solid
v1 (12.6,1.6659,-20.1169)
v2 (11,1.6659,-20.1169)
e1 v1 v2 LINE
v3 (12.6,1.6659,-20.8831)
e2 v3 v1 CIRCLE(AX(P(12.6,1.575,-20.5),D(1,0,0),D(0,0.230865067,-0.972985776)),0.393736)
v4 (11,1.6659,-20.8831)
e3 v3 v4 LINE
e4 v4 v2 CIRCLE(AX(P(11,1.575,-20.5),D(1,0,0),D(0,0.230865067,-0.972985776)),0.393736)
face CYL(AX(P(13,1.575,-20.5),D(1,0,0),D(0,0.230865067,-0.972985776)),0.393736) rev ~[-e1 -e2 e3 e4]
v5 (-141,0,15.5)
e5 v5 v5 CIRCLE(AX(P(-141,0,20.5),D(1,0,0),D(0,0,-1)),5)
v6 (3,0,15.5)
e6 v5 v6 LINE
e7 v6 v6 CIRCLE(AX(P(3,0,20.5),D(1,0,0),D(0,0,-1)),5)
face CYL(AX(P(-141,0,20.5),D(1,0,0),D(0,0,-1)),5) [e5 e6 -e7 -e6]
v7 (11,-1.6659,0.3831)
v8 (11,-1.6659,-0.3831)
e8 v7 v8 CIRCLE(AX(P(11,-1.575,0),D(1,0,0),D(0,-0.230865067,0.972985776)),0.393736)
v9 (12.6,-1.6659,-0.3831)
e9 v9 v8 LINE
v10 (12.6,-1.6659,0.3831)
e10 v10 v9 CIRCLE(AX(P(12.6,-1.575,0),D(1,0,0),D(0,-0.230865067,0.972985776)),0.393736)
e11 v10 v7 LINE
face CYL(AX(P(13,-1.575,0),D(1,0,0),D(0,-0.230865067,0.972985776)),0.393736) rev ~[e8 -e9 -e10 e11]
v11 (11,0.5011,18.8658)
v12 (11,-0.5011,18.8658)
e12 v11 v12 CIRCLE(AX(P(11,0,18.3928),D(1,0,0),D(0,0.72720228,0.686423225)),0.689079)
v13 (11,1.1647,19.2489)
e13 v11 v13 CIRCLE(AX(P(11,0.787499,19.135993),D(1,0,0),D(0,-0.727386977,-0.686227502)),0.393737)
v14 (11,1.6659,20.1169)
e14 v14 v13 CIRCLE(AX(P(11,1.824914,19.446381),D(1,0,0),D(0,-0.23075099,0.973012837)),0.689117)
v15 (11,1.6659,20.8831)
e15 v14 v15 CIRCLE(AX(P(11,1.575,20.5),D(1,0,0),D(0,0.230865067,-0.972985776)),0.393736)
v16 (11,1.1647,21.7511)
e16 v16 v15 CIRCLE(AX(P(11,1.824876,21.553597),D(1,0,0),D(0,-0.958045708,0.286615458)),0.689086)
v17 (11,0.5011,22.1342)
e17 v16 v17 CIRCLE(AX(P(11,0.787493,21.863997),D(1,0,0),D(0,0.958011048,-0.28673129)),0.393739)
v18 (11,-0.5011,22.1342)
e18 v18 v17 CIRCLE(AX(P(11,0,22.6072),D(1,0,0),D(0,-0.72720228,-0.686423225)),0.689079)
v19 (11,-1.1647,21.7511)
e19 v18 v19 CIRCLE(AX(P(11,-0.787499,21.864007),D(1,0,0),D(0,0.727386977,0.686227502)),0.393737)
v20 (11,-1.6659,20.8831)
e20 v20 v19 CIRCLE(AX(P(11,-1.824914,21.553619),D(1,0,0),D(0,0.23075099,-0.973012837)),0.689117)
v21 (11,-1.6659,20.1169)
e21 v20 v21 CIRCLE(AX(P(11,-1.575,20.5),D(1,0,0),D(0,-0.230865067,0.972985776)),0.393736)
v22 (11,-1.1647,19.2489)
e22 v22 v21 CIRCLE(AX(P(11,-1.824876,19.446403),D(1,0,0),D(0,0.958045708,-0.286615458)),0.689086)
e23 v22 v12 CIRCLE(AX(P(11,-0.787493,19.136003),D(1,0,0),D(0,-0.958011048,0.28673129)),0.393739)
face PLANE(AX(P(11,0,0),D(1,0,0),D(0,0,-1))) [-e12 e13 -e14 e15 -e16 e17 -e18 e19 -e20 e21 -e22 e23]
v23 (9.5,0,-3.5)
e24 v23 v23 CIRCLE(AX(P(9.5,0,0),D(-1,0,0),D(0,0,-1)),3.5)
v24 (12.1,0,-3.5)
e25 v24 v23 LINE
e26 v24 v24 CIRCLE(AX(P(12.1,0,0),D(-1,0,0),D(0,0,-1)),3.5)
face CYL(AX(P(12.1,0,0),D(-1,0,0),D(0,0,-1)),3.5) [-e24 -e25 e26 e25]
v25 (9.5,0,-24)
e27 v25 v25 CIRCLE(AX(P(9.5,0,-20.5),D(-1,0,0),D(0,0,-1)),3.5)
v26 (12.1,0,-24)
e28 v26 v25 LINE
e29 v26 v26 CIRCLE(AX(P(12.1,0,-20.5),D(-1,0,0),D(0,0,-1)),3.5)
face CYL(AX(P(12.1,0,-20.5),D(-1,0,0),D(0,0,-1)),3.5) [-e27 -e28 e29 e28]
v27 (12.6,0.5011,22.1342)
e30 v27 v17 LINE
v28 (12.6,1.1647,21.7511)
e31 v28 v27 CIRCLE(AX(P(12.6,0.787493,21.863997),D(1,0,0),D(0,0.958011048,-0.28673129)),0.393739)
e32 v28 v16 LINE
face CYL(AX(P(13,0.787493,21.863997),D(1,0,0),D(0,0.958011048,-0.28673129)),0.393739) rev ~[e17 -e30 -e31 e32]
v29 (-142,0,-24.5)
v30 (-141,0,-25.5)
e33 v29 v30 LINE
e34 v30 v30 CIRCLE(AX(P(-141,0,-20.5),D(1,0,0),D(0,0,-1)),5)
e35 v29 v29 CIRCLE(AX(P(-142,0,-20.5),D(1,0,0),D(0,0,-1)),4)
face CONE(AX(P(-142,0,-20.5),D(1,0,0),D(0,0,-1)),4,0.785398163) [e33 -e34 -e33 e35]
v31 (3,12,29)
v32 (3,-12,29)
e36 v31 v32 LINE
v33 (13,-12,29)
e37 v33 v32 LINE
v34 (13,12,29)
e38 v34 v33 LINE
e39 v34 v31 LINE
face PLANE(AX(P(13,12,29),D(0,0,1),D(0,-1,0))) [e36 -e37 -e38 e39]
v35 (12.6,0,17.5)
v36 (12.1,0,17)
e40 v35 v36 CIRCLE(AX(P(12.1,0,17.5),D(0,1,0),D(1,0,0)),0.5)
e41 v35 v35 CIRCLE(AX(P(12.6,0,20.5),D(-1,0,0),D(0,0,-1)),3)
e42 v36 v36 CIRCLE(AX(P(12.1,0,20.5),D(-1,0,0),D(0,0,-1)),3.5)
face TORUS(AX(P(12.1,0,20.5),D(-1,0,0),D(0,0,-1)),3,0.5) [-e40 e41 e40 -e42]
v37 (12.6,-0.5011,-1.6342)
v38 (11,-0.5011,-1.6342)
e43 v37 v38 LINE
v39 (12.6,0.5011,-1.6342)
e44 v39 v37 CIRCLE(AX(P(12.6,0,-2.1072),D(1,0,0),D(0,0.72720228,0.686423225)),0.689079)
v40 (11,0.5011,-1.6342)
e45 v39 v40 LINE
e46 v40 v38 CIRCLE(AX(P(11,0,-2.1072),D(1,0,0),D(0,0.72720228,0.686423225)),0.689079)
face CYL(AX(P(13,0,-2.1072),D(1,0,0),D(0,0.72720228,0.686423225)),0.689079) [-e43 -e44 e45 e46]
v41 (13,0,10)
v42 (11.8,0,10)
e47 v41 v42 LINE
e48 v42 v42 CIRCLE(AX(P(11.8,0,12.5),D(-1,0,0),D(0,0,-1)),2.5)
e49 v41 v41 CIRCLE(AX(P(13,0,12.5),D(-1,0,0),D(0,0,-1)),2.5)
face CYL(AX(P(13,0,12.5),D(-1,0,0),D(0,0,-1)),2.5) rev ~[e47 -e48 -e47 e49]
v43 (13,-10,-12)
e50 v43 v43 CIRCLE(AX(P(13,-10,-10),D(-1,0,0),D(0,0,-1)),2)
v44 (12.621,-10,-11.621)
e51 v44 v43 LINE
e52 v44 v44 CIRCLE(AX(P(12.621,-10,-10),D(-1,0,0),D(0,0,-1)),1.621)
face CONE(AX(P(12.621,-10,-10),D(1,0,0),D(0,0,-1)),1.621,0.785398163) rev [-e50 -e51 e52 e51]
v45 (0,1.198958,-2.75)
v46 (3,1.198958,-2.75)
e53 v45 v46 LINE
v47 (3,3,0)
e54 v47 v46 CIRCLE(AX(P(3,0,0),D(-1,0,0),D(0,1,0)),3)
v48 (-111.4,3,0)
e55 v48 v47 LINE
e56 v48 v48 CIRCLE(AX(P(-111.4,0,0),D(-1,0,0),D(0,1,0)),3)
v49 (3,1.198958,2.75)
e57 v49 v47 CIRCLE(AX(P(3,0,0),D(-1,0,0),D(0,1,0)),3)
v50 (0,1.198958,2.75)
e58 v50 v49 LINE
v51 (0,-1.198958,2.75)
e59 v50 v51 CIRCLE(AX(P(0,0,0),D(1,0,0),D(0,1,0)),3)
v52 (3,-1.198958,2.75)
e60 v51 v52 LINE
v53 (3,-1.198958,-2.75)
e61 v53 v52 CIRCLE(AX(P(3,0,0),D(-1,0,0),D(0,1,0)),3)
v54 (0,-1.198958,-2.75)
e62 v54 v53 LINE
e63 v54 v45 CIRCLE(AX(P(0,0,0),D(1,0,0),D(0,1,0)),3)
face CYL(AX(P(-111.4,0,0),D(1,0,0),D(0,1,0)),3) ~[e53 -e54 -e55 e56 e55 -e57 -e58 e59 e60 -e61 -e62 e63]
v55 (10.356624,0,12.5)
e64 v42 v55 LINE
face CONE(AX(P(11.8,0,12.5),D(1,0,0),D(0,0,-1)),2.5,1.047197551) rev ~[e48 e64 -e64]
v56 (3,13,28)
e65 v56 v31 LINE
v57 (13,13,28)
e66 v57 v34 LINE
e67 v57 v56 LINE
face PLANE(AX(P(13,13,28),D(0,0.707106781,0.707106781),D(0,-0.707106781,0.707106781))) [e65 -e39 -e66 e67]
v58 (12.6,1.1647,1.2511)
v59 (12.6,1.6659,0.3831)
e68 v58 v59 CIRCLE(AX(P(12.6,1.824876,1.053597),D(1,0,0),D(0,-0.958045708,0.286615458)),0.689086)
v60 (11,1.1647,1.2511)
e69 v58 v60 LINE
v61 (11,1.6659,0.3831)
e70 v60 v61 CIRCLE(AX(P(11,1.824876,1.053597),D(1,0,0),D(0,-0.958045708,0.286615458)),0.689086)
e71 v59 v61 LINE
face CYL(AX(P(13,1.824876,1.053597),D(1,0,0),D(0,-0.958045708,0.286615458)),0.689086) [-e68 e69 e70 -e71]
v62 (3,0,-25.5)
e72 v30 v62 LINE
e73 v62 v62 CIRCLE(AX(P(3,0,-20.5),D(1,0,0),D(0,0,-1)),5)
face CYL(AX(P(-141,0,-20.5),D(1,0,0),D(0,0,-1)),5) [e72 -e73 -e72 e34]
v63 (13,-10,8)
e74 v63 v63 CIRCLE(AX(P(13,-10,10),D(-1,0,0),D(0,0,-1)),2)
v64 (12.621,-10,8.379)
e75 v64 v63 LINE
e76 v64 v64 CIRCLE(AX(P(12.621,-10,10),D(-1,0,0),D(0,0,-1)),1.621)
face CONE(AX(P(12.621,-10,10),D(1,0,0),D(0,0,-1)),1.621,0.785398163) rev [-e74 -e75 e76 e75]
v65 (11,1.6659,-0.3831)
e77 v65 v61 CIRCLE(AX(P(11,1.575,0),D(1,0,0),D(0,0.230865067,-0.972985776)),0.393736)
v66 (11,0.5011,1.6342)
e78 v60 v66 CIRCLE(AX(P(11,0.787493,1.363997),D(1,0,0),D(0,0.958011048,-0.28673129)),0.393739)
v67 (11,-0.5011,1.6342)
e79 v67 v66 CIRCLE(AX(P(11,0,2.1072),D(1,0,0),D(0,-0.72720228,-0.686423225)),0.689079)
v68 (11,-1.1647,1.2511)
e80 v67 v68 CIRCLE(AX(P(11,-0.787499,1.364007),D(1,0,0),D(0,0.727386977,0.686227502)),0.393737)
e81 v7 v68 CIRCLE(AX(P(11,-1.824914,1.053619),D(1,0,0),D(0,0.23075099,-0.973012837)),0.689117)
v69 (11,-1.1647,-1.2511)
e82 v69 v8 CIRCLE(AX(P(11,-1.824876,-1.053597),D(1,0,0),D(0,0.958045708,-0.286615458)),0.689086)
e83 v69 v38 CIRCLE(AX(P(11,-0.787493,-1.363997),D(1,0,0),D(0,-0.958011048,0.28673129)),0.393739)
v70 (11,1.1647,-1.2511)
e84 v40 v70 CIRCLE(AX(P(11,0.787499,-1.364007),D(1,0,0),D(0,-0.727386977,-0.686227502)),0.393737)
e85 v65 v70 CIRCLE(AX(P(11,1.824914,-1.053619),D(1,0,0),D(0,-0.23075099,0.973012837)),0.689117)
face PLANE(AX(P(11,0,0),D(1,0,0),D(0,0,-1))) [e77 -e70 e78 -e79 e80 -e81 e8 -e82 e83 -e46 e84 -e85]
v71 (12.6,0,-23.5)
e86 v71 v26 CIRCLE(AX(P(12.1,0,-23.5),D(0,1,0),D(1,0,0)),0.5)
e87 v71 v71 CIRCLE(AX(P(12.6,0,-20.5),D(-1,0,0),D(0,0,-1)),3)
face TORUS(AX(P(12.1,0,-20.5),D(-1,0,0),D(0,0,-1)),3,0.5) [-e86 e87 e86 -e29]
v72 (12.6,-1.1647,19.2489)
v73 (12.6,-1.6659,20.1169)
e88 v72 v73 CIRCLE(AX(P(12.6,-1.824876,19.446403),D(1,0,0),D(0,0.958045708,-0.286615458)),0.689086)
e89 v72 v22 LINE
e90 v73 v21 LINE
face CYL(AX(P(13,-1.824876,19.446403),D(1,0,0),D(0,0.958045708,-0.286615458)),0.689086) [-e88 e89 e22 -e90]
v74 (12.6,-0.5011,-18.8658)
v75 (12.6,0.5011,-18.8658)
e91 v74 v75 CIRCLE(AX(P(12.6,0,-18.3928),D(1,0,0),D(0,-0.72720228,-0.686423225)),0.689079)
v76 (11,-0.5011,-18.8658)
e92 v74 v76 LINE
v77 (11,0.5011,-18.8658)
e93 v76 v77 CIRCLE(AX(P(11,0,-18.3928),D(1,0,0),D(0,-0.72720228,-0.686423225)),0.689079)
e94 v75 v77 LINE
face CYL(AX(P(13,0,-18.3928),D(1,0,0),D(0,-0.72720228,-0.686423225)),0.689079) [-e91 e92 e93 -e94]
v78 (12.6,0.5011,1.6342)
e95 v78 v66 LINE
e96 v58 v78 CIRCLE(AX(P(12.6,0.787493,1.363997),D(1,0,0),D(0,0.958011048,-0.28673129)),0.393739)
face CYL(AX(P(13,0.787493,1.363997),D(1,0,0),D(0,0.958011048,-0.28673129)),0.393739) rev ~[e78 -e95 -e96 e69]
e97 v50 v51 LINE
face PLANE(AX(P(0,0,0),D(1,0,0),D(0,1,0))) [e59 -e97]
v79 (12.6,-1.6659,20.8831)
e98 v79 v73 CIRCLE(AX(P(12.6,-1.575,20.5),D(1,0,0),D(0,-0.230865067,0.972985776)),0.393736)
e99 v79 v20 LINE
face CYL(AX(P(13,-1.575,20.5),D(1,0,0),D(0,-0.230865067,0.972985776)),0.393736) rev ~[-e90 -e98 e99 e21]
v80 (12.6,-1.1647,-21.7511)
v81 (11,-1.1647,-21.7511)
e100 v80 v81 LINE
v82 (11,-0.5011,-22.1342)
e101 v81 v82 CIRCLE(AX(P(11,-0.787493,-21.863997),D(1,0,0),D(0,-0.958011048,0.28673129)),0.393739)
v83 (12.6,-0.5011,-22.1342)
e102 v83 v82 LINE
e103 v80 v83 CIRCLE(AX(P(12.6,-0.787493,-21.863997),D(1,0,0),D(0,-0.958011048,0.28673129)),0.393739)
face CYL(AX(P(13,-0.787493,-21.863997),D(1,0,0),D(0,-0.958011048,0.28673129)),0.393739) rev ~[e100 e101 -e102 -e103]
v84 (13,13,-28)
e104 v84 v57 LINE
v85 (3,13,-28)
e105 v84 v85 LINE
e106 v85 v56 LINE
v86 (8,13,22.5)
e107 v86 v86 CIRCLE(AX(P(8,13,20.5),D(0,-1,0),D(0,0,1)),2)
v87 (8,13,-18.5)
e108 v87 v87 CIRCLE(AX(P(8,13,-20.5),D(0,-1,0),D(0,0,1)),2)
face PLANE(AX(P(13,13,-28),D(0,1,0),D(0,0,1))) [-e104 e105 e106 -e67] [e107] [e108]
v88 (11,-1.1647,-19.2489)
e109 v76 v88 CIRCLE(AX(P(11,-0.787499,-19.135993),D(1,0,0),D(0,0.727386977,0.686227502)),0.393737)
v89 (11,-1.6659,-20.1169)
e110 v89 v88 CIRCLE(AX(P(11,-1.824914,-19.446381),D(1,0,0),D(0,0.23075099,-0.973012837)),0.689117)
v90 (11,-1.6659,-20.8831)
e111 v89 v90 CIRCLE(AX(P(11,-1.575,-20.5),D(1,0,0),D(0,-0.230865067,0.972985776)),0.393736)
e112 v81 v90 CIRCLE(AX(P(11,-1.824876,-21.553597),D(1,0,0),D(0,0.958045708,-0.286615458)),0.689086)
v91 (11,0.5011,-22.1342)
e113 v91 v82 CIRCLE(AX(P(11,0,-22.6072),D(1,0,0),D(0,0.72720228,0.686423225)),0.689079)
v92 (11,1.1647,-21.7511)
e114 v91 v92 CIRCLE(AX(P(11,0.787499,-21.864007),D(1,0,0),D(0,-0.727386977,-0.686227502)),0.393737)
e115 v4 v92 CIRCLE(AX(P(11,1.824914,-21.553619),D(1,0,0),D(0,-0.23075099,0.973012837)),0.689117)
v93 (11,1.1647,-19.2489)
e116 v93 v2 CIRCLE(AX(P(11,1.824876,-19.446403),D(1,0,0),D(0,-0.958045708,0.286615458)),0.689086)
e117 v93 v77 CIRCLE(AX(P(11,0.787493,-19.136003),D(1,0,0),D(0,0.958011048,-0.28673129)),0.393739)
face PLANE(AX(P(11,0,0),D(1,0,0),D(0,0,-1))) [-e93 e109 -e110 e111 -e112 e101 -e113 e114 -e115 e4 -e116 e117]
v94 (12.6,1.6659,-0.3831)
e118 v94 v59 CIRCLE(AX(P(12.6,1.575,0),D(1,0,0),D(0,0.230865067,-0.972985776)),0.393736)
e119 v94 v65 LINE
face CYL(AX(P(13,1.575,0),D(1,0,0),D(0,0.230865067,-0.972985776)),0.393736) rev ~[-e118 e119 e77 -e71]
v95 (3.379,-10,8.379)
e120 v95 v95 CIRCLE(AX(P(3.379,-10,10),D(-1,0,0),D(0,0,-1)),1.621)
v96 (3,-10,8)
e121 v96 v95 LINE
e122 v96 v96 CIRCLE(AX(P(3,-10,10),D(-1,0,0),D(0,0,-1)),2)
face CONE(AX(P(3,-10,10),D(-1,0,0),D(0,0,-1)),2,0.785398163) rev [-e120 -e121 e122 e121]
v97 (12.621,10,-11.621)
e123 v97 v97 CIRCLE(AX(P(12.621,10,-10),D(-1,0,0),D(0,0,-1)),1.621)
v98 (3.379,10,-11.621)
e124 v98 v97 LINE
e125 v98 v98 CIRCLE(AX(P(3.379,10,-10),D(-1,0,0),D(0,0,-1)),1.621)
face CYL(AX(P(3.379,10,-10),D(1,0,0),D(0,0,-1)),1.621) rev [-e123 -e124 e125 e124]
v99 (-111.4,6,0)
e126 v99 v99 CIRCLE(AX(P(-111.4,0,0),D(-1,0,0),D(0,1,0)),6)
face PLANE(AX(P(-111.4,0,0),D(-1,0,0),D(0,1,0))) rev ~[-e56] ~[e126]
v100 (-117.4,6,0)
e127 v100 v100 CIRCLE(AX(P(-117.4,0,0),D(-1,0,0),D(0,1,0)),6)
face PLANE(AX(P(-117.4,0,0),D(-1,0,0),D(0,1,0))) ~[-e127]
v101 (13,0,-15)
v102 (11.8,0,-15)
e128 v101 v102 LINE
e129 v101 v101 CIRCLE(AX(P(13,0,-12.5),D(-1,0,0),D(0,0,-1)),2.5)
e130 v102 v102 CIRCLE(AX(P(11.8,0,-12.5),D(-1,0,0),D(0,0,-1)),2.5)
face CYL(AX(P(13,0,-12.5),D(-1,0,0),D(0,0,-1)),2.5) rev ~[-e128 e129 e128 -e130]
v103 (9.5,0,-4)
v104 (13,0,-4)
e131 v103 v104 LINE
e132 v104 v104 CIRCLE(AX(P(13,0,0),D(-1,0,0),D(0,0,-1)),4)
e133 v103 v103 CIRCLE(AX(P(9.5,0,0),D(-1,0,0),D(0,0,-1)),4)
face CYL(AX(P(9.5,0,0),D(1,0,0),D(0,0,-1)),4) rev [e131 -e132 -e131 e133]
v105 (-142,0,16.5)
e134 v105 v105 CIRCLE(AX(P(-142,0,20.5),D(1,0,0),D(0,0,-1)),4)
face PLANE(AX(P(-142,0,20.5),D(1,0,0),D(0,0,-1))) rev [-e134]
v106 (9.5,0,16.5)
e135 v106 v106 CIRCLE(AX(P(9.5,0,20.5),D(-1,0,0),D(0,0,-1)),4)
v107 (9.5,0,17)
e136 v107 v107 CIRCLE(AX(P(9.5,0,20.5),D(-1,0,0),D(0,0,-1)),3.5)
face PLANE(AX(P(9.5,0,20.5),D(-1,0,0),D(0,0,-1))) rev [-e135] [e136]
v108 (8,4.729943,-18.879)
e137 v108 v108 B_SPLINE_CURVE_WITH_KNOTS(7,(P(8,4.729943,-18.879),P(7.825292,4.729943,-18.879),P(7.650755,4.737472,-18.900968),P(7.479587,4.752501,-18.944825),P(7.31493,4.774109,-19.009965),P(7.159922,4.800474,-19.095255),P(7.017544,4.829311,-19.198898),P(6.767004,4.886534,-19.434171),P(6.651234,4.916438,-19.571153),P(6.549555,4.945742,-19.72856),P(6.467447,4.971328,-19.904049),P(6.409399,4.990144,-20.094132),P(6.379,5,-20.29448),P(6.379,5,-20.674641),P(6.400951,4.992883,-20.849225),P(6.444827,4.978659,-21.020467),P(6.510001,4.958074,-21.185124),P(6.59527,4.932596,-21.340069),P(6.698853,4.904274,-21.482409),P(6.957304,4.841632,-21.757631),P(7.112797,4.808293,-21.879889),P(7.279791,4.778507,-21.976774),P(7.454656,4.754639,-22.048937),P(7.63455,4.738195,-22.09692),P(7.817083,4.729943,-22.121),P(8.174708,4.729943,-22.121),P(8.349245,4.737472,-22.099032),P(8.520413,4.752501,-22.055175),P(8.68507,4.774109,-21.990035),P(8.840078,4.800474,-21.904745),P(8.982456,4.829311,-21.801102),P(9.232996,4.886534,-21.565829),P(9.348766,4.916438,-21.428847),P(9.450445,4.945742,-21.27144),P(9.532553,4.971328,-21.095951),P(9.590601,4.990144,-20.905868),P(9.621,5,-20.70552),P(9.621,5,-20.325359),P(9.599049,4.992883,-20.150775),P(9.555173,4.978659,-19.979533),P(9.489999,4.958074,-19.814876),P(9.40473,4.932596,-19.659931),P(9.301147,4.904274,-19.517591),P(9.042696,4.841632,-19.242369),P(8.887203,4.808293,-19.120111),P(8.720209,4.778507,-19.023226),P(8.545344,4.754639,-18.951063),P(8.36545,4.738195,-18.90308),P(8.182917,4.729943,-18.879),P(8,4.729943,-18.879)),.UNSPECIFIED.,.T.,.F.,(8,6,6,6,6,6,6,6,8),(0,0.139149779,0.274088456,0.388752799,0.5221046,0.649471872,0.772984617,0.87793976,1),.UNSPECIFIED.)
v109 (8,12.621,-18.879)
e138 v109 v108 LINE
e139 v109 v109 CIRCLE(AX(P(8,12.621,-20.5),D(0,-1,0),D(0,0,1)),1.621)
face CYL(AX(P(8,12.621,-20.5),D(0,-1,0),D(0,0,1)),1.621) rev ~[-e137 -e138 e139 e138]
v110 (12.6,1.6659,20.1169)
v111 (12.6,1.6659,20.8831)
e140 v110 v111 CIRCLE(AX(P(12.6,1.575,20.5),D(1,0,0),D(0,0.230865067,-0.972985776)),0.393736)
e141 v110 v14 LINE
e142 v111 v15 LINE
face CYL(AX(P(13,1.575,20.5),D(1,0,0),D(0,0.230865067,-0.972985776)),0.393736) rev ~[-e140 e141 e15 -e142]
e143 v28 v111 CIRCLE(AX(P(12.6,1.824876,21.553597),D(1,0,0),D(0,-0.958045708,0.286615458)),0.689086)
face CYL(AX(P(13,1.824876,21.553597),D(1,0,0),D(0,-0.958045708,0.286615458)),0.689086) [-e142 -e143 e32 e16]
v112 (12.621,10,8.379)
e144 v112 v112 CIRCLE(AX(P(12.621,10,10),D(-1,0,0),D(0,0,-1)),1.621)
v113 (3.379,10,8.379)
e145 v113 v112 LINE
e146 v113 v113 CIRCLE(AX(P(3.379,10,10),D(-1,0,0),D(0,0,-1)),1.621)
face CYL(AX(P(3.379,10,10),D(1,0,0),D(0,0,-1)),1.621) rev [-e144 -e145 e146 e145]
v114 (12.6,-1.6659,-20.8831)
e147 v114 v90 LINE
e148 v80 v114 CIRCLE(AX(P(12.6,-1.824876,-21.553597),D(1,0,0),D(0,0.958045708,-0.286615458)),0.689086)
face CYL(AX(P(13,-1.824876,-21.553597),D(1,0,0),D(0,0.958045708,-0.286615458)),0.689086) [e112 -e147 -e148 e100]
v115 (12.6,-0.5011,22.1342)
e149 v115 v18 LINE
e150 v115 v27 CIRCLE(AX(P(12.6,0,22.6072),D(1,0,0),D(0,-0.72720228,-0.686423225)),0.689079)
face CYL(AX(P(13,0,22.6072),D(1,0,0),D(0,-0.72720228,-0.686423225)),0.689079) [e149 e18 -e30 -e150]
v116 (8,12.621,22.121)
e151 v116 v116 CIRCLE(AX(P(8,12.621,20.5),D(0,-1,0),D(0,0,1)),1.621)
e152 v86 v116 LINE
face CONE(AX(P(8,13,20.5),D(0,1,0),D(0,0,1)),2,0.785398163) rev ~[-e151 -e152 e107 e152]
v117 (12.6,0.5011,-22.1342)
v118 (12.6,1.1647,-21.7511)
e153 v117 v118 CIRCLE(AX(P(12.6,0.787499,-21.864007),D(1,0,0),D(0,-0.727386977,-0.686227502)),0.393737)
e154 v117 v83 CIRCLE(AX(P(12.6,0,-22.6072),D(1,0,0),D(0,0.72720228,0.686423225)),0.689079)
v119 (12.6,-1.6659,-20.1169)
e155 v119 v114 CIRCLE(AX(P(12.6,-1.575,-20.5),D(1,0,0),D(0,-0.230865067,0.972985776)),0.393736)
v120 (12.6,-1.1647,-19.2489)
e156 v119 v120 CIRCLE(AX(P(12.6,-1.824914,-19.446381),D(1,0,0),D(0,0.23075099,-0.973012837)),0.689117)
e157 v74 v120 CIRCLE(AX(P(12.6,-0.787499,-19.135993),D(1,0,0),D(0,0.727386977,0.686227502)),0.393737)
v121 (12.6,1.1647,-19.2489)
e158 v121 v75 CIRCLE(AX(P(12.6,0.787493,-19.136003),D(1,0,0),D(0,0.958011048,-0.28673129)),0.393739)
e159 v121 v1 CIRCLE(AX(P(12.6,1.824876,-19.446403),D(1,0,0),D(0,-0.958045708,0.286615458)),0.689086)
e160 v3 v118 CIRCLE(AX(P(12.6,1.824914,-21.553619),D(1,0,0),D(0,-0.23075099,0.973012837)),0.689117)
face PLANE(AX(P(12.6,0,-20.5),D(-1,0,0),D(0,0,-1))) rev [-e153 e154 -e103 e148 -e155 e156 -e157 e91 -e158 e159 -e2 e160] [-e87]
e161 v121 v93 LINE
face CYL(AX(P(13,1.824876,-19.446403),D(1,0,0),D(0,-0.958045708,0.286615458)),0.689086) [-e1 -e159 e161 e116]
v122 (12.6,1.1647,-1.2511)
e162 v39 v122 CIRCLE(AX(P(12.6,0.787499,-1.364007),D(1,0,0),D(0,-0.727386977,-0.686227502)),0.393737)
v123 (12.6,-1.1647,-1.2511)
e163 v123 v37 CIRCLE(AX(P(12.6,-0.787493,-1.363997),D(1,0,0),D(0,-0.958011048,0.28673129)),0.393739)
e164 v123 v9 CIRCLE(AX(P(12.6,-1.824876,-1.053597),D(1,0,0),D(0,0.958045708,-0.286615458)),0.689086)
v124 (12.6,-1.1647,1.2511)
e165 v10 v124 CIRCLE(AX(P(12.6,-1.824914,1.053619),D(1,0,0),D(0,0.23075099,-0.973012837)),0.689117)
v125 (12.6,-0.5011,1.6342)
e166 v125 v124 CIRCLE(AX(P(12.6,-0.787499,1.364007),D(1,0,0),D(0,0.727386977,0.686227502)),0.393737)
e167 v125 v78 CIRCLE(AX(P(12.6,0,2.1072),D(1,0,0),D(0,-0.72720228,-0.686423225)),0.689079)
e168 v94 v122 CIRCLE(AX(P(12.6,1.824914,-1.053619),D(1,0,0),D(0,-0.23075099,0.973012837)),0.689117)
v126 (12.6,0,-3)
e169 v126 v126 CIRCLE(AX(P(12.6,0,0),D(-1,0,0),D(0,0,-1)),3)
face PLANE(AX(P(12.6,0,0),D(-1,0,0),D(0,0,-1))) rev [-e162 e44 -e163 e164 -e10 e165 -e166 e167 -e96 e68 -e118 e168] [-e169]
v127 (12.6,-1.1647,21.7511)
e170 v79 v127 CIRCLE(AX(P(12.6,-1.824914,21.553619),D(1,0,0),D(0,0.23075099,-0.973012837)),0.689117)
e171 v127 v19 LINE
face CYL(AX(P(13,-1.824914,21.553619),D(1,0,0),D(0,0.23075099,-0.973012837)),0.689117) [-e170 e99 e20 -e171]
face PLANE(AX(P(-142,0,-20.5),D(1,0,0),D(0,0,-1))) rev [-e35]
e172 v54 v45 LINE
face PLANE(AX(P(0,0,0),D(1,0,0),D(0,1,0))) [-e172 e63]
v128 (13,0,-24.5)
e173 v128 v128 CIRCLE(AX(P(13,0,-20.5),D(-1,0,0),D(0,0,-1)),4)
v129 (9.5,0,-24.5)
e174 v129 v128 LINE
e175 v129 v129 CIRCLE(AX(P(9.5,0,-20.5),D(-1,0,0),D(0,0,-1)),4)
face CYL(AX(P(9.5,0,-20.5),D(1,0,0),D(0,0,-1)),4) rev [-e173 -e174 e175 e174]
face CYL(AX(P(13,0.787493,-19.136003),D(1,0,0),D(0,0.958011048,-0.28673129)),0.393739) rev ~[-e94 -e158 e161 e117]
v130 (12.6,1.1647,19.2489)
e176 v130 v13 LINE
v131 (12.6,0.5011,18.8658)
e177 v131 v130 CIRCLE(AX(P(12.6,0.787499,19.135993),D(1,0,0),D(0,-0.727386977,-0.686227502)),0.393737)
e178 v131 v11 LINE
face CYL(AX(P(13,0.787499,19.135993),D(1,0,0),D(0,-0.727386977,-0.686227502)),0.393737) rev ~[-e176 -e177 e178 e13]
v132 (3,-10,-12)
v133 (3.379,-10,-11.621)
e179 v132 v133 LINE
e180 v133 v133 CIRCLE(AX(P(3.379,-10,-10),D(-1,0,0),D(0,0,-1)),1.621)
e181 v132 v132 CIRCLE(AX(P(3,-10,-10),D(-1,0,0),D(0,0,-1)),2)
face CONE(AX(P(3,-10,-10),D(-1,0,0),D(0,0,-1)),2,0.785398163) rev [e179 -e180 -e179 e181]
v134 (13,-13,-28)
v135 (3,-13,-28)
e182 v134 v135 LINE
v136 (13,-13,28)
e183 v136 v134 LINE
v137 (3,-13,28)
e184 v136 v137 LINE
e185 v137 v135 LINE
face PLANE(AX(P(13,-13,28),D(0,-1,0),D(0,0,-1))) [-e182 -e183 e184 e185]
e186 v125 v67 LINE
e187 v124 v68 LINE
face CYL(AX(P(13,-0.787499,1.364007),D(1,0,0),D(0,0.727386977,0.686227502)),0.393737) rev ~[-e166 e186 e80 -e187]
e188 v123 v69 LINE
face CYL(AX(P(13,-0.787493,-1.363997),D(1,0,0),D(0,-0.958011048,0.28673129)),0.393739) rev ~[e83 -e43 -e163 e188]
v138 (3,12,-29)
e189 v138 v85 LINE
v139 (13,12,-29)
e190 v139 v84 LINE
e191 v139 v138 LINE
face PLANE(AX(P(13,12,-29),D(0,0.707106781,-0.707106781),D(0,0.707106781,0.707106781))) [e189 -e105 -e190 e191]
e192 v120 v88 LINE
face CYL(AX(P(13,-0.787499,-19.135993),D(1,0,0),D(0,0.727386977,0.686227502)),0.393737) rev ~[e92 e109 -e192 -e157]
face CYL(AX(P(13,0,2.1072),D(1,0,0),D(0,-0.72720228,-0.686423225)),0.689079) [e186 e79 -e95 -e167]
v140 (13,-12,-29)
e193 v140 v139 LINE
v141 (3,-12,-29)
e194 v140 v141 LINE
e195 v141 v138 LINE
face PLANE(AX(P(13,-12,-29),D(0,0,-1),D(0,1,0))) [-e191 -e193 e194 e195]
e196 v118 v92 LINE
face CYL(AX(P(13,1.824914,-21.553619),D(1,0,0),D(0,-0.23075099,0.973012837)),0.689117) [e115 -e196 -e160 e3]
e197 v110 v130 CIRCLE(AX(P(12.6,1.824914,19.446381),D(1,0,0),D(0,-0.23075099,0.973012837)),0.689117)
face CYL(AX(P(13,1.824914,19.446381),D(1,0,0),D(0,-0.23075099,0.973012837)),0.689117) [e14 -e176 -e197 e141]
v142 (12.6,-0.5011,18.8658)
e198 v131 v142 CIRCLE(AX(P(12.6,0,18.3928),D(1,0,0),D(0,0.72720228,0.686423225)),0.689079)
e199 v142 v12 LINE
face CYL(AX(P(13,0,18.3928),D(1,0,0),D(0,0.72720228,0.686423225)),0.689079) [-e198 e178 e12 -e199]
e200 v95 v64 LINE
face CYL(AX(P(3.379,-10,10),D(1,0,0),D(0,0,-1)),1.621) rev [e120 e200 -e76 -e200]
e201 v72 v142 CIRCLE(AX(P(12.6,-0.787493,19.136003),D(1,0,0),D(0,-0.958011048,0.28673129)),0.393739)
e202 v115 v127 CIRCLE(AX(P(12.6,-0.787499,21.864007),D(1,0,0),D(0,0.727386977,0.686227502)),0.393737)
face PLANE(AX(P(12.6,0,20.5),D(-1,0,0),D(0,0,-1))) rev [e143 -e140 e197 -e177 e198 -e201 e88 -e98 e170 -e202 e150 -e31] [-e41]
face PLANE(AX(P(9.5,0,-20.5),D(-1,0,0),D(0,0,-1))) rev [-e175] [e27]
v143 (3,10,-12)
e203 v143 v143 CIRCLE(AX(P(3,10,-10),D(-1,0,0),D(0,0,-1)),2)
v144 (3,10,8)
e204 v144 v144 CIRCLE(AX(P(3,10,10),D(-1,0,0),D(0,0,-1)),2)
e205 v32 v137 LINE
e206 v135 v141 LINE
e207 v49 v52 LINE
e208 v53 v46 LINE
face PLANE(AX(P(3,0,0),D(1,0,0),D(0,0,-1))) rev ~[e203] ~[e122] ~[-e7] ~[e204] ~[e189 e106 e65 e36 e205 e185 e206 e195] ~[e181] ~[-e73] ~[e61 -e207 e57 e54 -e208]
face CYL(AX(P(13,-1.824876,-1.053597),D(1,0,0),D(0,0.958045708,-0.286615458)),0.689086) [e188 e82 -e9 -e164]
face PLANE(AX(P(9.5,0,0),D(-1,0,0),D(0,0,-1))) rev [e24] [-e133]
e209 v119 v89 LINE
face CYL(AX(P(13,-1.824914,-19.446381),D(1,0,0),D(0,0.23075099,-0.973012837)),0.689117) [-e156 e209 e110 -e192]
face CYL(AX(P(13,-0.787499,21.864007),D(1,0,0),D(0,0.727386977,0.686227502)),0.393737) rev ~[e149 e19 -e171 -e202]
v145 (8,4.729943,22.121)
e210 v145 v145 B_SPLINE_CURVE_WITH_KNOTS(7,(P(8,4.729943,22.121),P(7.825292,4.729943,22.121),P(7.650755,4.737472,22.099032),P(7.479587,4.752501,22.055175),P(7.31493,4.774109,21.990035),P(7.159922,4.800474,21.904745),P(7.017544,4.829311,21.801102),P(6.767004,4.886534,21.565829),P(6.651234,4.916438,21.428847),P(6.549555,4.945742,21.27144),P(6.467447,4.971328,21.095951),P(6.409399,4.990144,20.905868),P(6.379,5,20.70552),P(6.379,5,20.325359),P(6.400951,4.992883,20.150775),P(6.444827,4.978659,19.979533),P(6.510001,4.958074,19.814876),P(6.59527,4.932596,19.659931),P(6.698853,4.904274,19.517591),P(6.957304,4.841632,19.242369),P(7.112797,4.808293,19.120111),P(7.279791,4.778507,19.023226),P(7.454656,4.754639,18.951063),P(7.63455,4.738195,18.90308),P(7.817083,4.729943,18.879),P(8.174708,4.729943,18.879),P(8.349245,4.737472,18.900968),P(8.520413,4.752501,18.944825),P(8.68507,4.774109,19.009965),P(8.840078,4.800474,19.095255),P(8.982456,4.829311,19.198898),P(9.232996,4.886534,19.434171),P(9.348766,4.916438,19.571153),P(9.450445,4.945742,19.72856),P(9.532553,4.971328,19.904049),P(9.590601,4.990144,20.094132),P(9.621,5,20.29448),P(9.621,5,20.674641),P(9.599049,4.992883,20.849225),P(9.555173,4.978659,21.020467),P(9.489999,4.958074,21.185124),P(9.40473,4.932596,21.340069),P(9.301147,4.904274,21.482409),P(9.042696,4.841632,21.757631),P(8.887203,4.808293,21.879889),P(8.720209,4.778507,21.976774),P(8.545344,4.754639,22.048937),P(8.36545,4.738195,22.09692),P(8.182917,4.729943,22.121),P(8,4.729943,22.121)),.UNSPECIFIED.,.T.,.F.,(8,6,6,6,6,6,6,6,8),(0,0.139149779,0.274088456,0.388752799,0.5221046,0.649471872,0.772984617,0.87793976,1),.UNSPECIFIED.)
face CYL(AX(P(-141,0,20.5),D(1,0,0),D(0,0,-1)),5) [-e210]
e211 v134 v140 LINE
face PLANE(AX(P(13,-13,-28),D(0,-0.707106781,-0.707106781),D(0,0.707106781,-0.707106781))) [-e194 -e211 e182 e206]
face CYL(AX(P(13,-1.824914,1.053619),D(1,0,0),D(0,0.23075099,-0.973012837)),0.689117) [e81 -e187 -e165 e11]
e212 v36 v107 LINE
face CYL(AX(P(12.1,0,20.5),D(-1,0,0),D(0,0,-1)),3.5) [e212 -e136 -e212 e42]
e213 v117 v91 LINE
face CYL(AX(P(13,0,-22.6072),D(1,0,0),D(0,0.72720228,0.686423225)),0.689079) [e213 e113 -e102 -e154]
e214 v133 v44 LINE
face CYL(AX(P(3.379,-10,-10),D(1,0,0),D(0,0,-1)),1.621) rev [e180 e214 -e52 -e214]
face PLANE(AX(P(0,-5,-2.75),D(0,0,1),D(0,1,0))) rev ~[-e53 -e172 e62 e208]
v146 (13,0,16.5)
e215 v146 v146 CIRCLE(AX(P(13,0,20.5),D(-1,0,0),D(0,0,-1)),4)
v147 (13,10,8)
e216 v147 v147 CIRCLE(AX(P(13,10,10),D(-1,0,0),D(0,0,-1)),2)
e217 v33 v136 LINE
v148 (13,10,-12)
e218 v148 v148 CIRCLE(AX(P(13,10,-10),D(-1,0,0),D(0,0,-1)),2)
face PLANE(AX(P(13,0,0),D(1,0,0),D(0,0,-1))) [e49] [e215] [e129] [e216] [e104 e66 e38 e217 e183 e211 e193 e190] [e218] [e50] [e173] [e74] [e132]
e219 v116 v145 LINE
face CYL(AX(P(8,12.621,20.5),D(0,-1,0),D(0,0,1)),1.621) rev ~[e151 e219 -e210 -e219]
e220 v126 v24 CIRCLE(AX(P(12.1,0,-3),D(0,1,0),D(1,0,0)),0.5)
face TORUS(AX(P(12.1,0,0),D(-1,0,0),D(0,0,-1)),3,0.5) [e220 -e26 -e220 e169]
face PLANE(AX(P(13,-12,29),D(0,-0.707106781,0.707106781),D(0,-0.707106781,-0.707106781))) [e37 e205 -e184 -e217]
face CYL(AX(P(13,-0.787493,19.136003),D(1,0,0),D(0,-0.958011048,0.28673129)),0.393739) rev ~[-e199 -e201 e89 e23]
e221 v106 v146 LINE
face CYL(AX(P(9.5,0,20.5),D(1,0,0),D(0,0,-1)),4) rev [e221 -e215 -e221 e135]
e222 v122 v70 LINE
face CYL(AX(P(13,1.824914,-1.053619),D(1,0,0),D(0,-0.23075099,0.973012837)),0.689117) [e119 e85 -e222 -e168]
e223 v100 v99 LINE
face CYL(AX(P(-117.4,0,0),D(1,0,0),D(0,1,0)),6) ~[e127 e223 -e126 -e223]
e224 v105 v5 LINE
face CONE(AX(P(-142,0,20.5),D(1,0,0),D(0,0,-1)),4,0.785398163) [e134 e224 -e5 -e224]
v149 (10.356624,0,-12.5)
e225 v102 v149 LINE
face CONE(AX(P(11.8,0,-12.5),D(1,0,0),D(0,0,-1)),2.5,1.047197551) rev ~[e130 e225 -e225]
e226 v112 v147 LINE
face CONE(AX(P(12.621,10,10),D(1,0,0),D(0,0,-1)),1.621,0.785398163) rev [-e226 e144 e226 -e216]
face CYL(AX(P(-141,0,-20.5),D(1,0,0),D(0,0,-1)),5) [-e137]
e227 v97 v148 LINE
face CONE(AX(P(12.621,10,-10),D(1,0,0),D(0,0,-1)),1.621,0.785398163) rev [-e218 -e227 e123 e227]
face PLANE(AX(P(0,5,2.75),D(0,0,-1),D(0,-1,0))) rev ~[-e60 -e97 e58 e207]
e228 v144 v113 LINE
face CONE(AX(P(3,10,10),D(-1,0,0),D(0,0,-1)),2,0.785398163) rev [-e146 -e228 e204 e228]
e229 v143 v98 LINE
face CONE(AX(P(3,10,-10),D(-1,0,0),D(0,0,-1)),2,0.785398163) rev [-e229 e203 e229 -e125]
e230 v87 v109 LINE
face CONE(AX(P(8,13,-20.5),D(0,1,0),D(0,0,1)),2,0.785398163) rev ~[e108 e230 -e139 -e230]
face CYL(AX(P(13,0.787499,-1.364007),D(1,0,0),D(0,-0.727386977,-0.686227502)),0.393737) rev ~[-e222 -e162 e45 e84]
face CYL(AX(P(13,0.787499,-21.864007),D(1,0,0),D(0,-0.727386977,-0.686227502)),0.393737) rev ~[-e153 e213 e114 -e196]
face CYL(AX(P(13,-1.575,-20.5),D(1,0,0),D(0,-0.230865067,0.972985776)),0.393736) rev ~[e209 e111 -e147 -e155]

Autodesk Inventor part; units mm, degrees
sketch "Sketch_2" plane through (13, 0, 0) normal (1, 0, 0) x (0, 0, -1)
  line L0 (-29, -12) -> (-28, -13)
  line L1 (-28, -13) -> (28, -13)
  line L2 (28, -13) -> (29, -12)
  line L3 (29, -12) -> (29, 12)
  line L4 (29, 12) -> (28, 13)
  line L5 (28, 13) -> (-28, 13)
  line L6 (-28, 13) -> (-29, 12)
  line L7 (-29, 12) -> (-29, -12)
sketch "Sketch_3" plane through (0, 0, 0) normal (0, 1, 0) x (1, 0, 0)
  line L0 (13, 20.5) -> (-142, 20.5)
  line L1 (-142, 20.5) -> (-142, 24.5)
  line L2 (-142, 24.5) -> (-141, 25.5)
  line L3 (-141, 25.5) -> (13, 25.5)
  line L4 (13, 25.5) -> (13, 20.5)
  line L5 (13, 20.5) -> (-142, 20.5)
sketch "Sketch_4" plane through (0, 0, 0) normal (0, 1, 0) x (1, 0, 0)
  line L0 (13, -20.5) -> (-142, -20.5)
  line L1 (-142, -20.5) -> (-142, -16.5)
  line L2 (-142, -16.5) -> (-141, -15.5)
  line L3 (-141, -15.5) -> (13, -15.5)
  line L4 (13, -15.5) -> (13, -20.5)
  line L5 (13, -20.5) -> (-142, -20.5)
extrude "Extrusion1" add sketch "Sketch_2" against normal blind 10
sketch "Sketch_8" plane through (0, 10, 0) normal (0, 1, 0) x (1, 0, 0)
  line L0 (13, 10) -> (3, 10)
  line L1 (3, 10) -> (3, 12)
  line L2 (3, 12) -> (3.379, 11.621)
  line L3 (3.379, 11.621) -> (12.621, 11.621)
  line L4 (12.621, 11.621) -> (13, 12)
  line L5 (13, 12) -> (13, 10)
  line L6 (13, 10) -> (3, 10)
revolve "Revolution1" cut sketch "Sketch_8" angle 360 about axis through (13, 10, -10) along (-1, 0, 0)
thread "Thread1" size "M4x0.7" class "6H" standard "ISO Metric profile" full length
sketch "Sketch_9" plane through (0, 10, 0) normal (0, 1, 0) x (1, 0, 0)
  line L0 (13, -10) -> (3, -10)
  line L1 (3, -10) -> (3, -8)
  line L2 (3, -8) -> (3.379, -8.379)
  line L3 (3.379, -8.379) -> (12.621, -8.379)
  line L4 (12.621, -8.379) -> (13, -8)
  line L5 (13, -8) -> (13, -10)
  line L6 (13, -10) -> (3, -10)
revolve "Revolution2" cut sketch "Sketch_9" angle 360 about axis through (13, 10, 10) along (-1, 0, 0)
thread "Thread2" size "M4x0.7" class "6H" standard "ISO Metric profile" full length
sketch "Sketch_12" plane through (0, -10, 0) normal (0, 1, 0) x (1, 0, 0)
  line L0 (13, 10) -> (3, 10)
  line L1 (3, 10) -> (3, 12)
  line L2 (3, 12) -> (3.379, 11.621)
  line L3 (3.379, 11.621) -> (12.621, 11.621)
  line L4 (12.621, 11.621) -> (13, 12)
  line L5 (13, 12) -> (13, 10)
  line L6 (13, 10) -> (3, 10)
revolve "Revolution3" cut sketch "Sketch_12" angle 360 about axis through (13, -10, -10) along (-1, 0, 0)
thread "Thread3" size "M4x0.7" class "6H" standard "ISO Metric profile" full length
sketch "Sketch_13" plane through (0, -10, 0) normal (0, 1, 0) x (1, 0, 0)
  line L0 (13, -10) -> (3, -10)
  line L1 (3, -10) -> (3, -8)
  line L2 (3, -8) -> (3.379, -8.379)
  line L3 (3.379, -8.379) -> (12.621, -8.379)
  line L4 (12.621, -8.379) -> (13, -8)
  line L5 (13, -8) -> (13, -10)
  line L6 (13, -10) -> (3, -10)
revolve "Revolution4" cut sketch "Sketch_13" angle 360 about axis through (13, -10, 10) along (-1, 0, 0)
thread "Thread4" size "M4x0.7" class "6H" standard "ISO Metric profile" full length
sketch "Skizze_3" plane through (0, 0, 0) normal (0, 0, 1) x (1, 0, 0)
  line L0 (3, 0) -> (-117.4, 0)
  line L1 (-117.4, 0) -> (-117.4, 6)
  line L2 (-117.4, 6) -> (-111.4, 6)
  line L3 (-111.4, 6) -> (-111.4, 3)
  line L4 (-111.4, 3) -> (3, 3)
  line L5 (3, 3) -> (3, 0)
  line L6 (3, 0) -> (-117.4, 0)
revolve "Revolution5" add sketch "Skizze_3" angle 360 about axis through (3, 0, 0) along (-1, 0, 0)
sketch "Sketch_17" plane through (0, 0, 0) normal (1, 0, 0) x (0, 1, 0)
  line L0 (-10, 7.5) -> (-10, -7.5)
  line L1 (-10, -7.5) -> (10, -7.5)
  line L2 (10, -7.5) -> (10, 7.5)
  line L3 (10, 7.5) -> (-10, 7.5)
  line L4 (-5, 2.75) -> (-5, -2.75)
  line L5 (-5, -2.75) -> (5, -2.75)
  line L6 (5, -2.75) -> (5, 2.75)
  line L7 (5, 2.75) -> (-5, 2.75)
extrude "Extrusion2" cut sketch "Sketch_17" along normal blind 3
sketch "Sketch10" plane through (13, 0, 0) normal (1, 0, 0) x (0, 0, -1)
  point P0 (12.5, 0)
hole "Hole1" at (13, 0, -12.5) direction (-1, 0, 0) diameter 5 depth 1.2 tip angle 120
sketch "Sketch11" plane through (13, 0, 0) normal (1, 0, 0) x (0, 0, -1)
  point P0 (-12.5, 0)
hole "Hole2" at (13, 0, 12.5) direction (-1, 0, 0) diameter 5 depth 1.2 tip angle 120
sketch "Sketch12" plane through (13, 13, 28) normal (0, 1, 0) x (1, 0, 0)
  point P0 (-5, 48.5)
hole "Hole3" at (8, 13, -20.5) direction (0, -1, 0) diameter 3.242 depth 13 countersink diameter 4 countersink angle 90 thread size "M4x0.7" class "6H" standard "ISO Metric profile"
sketch "Sketch13" plane through (13, 13, 28) normal (0, 1, 0) x (1, 0, 0)
  point P0 (-5, 7.5)
hole "Hole4" at (8, 13, 20.5) direction (0, -1, 0) diameter 3.242 depth 13 countersink diameter 4 countersink angle 90 thread size "M4x0.7" class "6H" standard "ISO Metric profile"
revolve "Revolution6" add sketch "Sketch_4" angle 360 about axis through (13, 0, 20.5) along (1, 0, 0)
revolve "Revolution7" add sketch "Sketch_3" angle 360 about axis through (13, 0, -20.5) along (1, 0, 0)
sketch "Sketch_20" plane through (13, 0, 0) normal (1, 0, 0) x (0, 0, -1)
  arc A0 (-1.6342, -0.5011) -> (-1.2511, -1.1647) centre (-1.364, -0.7875) ccw
  arc A1 (-0.3831, -1.6659) -> (-1.2511, -1.1647) centre (-1.0536, -1.8249) ccw
  arc A2 (-0.3831, -1.6659) -> (0.3831, -1.6659) centre (0, -1.575) ccw
  arc A3 (1.2511, -1.1647) -> (0.3831, -1.6659) centre (1.0536, -1.8249) ccw
  arc A4 (1.2511, -1.1647) -> (1.6342, -0.5011) centre (1.364, -0.7875) ccw
  arc A5 (1.6342, 0.5011) -> (1.6342, -0.5011) centre (2.1072, 0) ccw
  arc A6 (1.6342, 0.5011) -> (1.2511, 1.1647) centre (1.364, 0.7875) ccw
  arc A7 (0.3831, 1.6659) -> (1.2511, 1.1647) centre (1.0536, 1.8249) ccw
  arc A8 (0.3831, 1.6659) -> (-0.3831, 1.6659) centre (0, 1.575) ccw
  arc A9 (-1.2511, 1.1647) -> (-0.3831, 1.6659) centre (-1.0536, 1.8249) ccw
  arc A10 (-1.2511, 1.1647) -> (-1.6342, 0.5011) centre (-1.364, 0.7875) ccw
  arc A11 (-1.6342, -0.5011) -> (-1.6342, 0.5011) centre (-2.1072, 0) ccw
extrude "Extrusion3" cut sketch "Sketch_20" against normal blind 2
sketch "Pattern_2_SKETCH_1" plane through (13, 0, 0) normal (1, 0, 0) x (0, 0, -1)
  arc A0 (18.8658, -0.5011) -> (19.2489, -1.1647) centre (19.136, -0.7875) ccw
  arc A1 (20.1169, -1.6659) -> (19.2489, -1.1647) centre (19.4464, -1.8249) ccw
  arc A2 (20.1169, -1.6659) -> (20.8831, -1.6659) centre (20.5, -1.575) ccw
  arc A3 (21.7511, -1.1647) -> (20.8831, -1.6659) centre (21.5536, -1.8249) ccw
  arc A4 (21.7511, -1.1647) -> (22.1342, -0.5011) centre (21.864, -0.7875) ccw
  arc A5 (22.1342, 0.5011) -> (22.1342, -0.5011) centre (22.6072, 0) ccw
  arc A6 (22.1342, 0.5011) -> (21.7511, 1.1647) centre (21.864, 0.7875) ccw
  arc A7 (20.8831, 1.6659) -> (21.7511, 1.1647) centre (21.5536, 1.8249) ccw
  arc A8 (20.8831, 1.6659) -> (20.1169, 1.6659) centre (20.5, 1.575) ccw
  arc A9 (19.2489, 1.1647) -> (20.1169, 1.6659) centre (19.4464, 1.8249) ccw
  arc A10 (19.2489, 1.1647) -> (18.8658, 0.5011) centre (19.136, 0.7875) ccw
  arc A11 (18.8658, -0.5011) -> (18.8658, 0.5011) centre (18.3928, 0) ccw
sketch "Pattern_2_SKETCH_2" plane through (13, 0, 0) normal (1, 0, 0) x (0, 0, -1)
  arc A0 (-22.1342, -0.5011) -> (-21.7511, -1.1647) centre (-21.864, -0.7875) ccw
  arc A1 (-20.8831, -1.6659) -> (-21.7511, -1.1647) centre (-21.5536, -1.8249) ccw
  arc A2 (-20.8831, -1.6659) -> (-20.1169, -1.6659) centre (-20.5, -1.575) ccw
  arc A3 (-19.2489, -1.1647) -> (-20.1169, -1.6659) centre (-19.4464, -1.8249) ccw
  arc A4 (-19.2489, -1.1647) -> (-18.8658, -0.5011) centre (-19.136, -0.7875) ccw
  arc A5 (-18.8658, 0.5011) -> (-18.8658, -0.5011) centre (-18.3928, 0) ccw
  arc A6 (-18.8658, 0.5011) -> (-19.2489, 1.1647) centre (-19.136, 0.7875) ccw
  arc A7 (-20.1169, 1.6659) -> (-19.2489, 1.1647) centre (-19.4464, 1.8249) ccw
  arc A8 (-20.1169, 1.6659) -> (-20.8831, 1.6659) centre (-20.5, 1.575) ccw
  arc A9 (-21.7511, 1.1647) -> (-20.8831, 1.6659) centre (-21.5536, 1.8249) ccw
  arc A10 (-21.7511, 1.1647) -> (-22.1342, 0.5011) centre (-21.864, 0.7875) ccw
  arc A11 (-22.1342, -0.5011) -> (-22.1342, 0.5011) centre (-22.6072, 0) ccw
extrude "Extrusion4" cut sketch "Pattern_2_SKETCH_1" against normal blind 2
extrude "Extrusion5" cut sketch "Pattern_2_SKETCH_2" against normal blind 2
sketch "Sketch_22" plane through (0, 0, 0) normal (0, 1, 0) x (1, 0, 0)
  line L0 (13, 0) -> (12.6, 0)
  line L1 (12.6, 0) -> (12.6, 3)
  arc A0 (12.6, 3) -> (12.1, 3.5) centre (12.1, 3) ccw
  line L2 (12.1, 3.5) -> (9.5, 3.5)
  line L3 (9.5, 3.5) -> (9.5, 4)
  line L4 (9.5, 4) -> (13, 4)
  line L5 (13, 4) -> (13, 0)
  line L6 (13, 0) -> (12.6, 0)
revolve "Revolution8" cut sketch "Sketch_22" angle 360 about axis through (13, 0, 0) along (-1, 0, 0)
sketch "Pattern_3_SKETCH_1" plane through (0, 0, 20.5) normal (0, 1, 0) x (1, 0, 0)
  line L0 (13, 0) -> (12.6, 0)
  line L1 (12.6, 0) -> (12.6, 3)
  arc A0 (12.6, 3) -> (12.1, 3.5) centre (12.1, 3) ccw
  line L2 (12.1, 3.5) -> (9.5, 3.5)
  line L3 (9.5, 3.5) -> (9.5, 4)
  line L4 (9.5, 4) -> (13, 4)
  line L5 (13, 4) -> (13, 0)
  line L6 (13, 0) -> (12.6, 0)
sketch "Pattern_3_SKETCH_2" plane through (0, 0, -20.5) normal (0, 1, 0) x (1, 0, 0)
  line L0 (13, 0) -> (12.6, 0)
  line L1 (12.6, 0) -> (12.6, 3)
  arc A0 (12.6, 3) -> (12.1, 3.5) centre (12.1, 3) ccw
  line L2 (12.1, 3.5) -> (9.5, 3.5)
  line L3 (9.5, 3.5) -> (9.5, 4)
  line L4 (9.5, 4) -> (13, 4)
  line L5 (13, 4) -> (13, 0)
  line L6 (13, 0) -> (12.6, 0)
revolve "Revolution9" cut sketch "Pattern_3_SKETCH_1" angle 360 about axis through (13, 0, 20.5) along (-1, 0, 0)
revolve "Revolution10" cut sketch "Pattern_3_SKETCH_2" angle 360 about axis through (13, 0, -20.5) along (-1, 0, 0)
ref_plane "HUELSE3_1_XY" through (11.8, 0, -12.5) normal (1, 0, 0) x (0, 0, -1)
ref_plane "HUELSE3_1_YZ" through (11.8, 0, -12.5) normal (0, 0, -1) x (0, 1, 0)
ref_plane "HUELSE3_1_ZX" through (11.8, 0, -12.5) normal (0, 1, 0) x (1, 0, 0)
ref_plane "HUELSE3_2_XY" through (11.8, 0, 12.5) normal (1, 0, 0) x (0, 0, -1)
ref_plane "HUELSE3_2_YZ" through (11.8, 0, 12.5) normal (0, 0, -1) x (0, 1, 0)
ref_plane "HUELSE3_2_ZX" through (11.8, 0, 12.5) normal (0, 1, 0) x (1, 0, 0)
ref_plane "dfm_k_XY" through (0, 0, 0) normal (-1, 0, 0) x (0, 0, -1)
ref_plane "dfm_k_YZ" through (0, 0, 0) normal (0, 0, -1) x (0, -1, 0)
ref_plane "dfm_k_ZX" through (0, 0, 0) normal (0, -1, 0) x (-1, 0, 0)
properties part number "170831 DFM-12-100-P-A-GF---(K)"
